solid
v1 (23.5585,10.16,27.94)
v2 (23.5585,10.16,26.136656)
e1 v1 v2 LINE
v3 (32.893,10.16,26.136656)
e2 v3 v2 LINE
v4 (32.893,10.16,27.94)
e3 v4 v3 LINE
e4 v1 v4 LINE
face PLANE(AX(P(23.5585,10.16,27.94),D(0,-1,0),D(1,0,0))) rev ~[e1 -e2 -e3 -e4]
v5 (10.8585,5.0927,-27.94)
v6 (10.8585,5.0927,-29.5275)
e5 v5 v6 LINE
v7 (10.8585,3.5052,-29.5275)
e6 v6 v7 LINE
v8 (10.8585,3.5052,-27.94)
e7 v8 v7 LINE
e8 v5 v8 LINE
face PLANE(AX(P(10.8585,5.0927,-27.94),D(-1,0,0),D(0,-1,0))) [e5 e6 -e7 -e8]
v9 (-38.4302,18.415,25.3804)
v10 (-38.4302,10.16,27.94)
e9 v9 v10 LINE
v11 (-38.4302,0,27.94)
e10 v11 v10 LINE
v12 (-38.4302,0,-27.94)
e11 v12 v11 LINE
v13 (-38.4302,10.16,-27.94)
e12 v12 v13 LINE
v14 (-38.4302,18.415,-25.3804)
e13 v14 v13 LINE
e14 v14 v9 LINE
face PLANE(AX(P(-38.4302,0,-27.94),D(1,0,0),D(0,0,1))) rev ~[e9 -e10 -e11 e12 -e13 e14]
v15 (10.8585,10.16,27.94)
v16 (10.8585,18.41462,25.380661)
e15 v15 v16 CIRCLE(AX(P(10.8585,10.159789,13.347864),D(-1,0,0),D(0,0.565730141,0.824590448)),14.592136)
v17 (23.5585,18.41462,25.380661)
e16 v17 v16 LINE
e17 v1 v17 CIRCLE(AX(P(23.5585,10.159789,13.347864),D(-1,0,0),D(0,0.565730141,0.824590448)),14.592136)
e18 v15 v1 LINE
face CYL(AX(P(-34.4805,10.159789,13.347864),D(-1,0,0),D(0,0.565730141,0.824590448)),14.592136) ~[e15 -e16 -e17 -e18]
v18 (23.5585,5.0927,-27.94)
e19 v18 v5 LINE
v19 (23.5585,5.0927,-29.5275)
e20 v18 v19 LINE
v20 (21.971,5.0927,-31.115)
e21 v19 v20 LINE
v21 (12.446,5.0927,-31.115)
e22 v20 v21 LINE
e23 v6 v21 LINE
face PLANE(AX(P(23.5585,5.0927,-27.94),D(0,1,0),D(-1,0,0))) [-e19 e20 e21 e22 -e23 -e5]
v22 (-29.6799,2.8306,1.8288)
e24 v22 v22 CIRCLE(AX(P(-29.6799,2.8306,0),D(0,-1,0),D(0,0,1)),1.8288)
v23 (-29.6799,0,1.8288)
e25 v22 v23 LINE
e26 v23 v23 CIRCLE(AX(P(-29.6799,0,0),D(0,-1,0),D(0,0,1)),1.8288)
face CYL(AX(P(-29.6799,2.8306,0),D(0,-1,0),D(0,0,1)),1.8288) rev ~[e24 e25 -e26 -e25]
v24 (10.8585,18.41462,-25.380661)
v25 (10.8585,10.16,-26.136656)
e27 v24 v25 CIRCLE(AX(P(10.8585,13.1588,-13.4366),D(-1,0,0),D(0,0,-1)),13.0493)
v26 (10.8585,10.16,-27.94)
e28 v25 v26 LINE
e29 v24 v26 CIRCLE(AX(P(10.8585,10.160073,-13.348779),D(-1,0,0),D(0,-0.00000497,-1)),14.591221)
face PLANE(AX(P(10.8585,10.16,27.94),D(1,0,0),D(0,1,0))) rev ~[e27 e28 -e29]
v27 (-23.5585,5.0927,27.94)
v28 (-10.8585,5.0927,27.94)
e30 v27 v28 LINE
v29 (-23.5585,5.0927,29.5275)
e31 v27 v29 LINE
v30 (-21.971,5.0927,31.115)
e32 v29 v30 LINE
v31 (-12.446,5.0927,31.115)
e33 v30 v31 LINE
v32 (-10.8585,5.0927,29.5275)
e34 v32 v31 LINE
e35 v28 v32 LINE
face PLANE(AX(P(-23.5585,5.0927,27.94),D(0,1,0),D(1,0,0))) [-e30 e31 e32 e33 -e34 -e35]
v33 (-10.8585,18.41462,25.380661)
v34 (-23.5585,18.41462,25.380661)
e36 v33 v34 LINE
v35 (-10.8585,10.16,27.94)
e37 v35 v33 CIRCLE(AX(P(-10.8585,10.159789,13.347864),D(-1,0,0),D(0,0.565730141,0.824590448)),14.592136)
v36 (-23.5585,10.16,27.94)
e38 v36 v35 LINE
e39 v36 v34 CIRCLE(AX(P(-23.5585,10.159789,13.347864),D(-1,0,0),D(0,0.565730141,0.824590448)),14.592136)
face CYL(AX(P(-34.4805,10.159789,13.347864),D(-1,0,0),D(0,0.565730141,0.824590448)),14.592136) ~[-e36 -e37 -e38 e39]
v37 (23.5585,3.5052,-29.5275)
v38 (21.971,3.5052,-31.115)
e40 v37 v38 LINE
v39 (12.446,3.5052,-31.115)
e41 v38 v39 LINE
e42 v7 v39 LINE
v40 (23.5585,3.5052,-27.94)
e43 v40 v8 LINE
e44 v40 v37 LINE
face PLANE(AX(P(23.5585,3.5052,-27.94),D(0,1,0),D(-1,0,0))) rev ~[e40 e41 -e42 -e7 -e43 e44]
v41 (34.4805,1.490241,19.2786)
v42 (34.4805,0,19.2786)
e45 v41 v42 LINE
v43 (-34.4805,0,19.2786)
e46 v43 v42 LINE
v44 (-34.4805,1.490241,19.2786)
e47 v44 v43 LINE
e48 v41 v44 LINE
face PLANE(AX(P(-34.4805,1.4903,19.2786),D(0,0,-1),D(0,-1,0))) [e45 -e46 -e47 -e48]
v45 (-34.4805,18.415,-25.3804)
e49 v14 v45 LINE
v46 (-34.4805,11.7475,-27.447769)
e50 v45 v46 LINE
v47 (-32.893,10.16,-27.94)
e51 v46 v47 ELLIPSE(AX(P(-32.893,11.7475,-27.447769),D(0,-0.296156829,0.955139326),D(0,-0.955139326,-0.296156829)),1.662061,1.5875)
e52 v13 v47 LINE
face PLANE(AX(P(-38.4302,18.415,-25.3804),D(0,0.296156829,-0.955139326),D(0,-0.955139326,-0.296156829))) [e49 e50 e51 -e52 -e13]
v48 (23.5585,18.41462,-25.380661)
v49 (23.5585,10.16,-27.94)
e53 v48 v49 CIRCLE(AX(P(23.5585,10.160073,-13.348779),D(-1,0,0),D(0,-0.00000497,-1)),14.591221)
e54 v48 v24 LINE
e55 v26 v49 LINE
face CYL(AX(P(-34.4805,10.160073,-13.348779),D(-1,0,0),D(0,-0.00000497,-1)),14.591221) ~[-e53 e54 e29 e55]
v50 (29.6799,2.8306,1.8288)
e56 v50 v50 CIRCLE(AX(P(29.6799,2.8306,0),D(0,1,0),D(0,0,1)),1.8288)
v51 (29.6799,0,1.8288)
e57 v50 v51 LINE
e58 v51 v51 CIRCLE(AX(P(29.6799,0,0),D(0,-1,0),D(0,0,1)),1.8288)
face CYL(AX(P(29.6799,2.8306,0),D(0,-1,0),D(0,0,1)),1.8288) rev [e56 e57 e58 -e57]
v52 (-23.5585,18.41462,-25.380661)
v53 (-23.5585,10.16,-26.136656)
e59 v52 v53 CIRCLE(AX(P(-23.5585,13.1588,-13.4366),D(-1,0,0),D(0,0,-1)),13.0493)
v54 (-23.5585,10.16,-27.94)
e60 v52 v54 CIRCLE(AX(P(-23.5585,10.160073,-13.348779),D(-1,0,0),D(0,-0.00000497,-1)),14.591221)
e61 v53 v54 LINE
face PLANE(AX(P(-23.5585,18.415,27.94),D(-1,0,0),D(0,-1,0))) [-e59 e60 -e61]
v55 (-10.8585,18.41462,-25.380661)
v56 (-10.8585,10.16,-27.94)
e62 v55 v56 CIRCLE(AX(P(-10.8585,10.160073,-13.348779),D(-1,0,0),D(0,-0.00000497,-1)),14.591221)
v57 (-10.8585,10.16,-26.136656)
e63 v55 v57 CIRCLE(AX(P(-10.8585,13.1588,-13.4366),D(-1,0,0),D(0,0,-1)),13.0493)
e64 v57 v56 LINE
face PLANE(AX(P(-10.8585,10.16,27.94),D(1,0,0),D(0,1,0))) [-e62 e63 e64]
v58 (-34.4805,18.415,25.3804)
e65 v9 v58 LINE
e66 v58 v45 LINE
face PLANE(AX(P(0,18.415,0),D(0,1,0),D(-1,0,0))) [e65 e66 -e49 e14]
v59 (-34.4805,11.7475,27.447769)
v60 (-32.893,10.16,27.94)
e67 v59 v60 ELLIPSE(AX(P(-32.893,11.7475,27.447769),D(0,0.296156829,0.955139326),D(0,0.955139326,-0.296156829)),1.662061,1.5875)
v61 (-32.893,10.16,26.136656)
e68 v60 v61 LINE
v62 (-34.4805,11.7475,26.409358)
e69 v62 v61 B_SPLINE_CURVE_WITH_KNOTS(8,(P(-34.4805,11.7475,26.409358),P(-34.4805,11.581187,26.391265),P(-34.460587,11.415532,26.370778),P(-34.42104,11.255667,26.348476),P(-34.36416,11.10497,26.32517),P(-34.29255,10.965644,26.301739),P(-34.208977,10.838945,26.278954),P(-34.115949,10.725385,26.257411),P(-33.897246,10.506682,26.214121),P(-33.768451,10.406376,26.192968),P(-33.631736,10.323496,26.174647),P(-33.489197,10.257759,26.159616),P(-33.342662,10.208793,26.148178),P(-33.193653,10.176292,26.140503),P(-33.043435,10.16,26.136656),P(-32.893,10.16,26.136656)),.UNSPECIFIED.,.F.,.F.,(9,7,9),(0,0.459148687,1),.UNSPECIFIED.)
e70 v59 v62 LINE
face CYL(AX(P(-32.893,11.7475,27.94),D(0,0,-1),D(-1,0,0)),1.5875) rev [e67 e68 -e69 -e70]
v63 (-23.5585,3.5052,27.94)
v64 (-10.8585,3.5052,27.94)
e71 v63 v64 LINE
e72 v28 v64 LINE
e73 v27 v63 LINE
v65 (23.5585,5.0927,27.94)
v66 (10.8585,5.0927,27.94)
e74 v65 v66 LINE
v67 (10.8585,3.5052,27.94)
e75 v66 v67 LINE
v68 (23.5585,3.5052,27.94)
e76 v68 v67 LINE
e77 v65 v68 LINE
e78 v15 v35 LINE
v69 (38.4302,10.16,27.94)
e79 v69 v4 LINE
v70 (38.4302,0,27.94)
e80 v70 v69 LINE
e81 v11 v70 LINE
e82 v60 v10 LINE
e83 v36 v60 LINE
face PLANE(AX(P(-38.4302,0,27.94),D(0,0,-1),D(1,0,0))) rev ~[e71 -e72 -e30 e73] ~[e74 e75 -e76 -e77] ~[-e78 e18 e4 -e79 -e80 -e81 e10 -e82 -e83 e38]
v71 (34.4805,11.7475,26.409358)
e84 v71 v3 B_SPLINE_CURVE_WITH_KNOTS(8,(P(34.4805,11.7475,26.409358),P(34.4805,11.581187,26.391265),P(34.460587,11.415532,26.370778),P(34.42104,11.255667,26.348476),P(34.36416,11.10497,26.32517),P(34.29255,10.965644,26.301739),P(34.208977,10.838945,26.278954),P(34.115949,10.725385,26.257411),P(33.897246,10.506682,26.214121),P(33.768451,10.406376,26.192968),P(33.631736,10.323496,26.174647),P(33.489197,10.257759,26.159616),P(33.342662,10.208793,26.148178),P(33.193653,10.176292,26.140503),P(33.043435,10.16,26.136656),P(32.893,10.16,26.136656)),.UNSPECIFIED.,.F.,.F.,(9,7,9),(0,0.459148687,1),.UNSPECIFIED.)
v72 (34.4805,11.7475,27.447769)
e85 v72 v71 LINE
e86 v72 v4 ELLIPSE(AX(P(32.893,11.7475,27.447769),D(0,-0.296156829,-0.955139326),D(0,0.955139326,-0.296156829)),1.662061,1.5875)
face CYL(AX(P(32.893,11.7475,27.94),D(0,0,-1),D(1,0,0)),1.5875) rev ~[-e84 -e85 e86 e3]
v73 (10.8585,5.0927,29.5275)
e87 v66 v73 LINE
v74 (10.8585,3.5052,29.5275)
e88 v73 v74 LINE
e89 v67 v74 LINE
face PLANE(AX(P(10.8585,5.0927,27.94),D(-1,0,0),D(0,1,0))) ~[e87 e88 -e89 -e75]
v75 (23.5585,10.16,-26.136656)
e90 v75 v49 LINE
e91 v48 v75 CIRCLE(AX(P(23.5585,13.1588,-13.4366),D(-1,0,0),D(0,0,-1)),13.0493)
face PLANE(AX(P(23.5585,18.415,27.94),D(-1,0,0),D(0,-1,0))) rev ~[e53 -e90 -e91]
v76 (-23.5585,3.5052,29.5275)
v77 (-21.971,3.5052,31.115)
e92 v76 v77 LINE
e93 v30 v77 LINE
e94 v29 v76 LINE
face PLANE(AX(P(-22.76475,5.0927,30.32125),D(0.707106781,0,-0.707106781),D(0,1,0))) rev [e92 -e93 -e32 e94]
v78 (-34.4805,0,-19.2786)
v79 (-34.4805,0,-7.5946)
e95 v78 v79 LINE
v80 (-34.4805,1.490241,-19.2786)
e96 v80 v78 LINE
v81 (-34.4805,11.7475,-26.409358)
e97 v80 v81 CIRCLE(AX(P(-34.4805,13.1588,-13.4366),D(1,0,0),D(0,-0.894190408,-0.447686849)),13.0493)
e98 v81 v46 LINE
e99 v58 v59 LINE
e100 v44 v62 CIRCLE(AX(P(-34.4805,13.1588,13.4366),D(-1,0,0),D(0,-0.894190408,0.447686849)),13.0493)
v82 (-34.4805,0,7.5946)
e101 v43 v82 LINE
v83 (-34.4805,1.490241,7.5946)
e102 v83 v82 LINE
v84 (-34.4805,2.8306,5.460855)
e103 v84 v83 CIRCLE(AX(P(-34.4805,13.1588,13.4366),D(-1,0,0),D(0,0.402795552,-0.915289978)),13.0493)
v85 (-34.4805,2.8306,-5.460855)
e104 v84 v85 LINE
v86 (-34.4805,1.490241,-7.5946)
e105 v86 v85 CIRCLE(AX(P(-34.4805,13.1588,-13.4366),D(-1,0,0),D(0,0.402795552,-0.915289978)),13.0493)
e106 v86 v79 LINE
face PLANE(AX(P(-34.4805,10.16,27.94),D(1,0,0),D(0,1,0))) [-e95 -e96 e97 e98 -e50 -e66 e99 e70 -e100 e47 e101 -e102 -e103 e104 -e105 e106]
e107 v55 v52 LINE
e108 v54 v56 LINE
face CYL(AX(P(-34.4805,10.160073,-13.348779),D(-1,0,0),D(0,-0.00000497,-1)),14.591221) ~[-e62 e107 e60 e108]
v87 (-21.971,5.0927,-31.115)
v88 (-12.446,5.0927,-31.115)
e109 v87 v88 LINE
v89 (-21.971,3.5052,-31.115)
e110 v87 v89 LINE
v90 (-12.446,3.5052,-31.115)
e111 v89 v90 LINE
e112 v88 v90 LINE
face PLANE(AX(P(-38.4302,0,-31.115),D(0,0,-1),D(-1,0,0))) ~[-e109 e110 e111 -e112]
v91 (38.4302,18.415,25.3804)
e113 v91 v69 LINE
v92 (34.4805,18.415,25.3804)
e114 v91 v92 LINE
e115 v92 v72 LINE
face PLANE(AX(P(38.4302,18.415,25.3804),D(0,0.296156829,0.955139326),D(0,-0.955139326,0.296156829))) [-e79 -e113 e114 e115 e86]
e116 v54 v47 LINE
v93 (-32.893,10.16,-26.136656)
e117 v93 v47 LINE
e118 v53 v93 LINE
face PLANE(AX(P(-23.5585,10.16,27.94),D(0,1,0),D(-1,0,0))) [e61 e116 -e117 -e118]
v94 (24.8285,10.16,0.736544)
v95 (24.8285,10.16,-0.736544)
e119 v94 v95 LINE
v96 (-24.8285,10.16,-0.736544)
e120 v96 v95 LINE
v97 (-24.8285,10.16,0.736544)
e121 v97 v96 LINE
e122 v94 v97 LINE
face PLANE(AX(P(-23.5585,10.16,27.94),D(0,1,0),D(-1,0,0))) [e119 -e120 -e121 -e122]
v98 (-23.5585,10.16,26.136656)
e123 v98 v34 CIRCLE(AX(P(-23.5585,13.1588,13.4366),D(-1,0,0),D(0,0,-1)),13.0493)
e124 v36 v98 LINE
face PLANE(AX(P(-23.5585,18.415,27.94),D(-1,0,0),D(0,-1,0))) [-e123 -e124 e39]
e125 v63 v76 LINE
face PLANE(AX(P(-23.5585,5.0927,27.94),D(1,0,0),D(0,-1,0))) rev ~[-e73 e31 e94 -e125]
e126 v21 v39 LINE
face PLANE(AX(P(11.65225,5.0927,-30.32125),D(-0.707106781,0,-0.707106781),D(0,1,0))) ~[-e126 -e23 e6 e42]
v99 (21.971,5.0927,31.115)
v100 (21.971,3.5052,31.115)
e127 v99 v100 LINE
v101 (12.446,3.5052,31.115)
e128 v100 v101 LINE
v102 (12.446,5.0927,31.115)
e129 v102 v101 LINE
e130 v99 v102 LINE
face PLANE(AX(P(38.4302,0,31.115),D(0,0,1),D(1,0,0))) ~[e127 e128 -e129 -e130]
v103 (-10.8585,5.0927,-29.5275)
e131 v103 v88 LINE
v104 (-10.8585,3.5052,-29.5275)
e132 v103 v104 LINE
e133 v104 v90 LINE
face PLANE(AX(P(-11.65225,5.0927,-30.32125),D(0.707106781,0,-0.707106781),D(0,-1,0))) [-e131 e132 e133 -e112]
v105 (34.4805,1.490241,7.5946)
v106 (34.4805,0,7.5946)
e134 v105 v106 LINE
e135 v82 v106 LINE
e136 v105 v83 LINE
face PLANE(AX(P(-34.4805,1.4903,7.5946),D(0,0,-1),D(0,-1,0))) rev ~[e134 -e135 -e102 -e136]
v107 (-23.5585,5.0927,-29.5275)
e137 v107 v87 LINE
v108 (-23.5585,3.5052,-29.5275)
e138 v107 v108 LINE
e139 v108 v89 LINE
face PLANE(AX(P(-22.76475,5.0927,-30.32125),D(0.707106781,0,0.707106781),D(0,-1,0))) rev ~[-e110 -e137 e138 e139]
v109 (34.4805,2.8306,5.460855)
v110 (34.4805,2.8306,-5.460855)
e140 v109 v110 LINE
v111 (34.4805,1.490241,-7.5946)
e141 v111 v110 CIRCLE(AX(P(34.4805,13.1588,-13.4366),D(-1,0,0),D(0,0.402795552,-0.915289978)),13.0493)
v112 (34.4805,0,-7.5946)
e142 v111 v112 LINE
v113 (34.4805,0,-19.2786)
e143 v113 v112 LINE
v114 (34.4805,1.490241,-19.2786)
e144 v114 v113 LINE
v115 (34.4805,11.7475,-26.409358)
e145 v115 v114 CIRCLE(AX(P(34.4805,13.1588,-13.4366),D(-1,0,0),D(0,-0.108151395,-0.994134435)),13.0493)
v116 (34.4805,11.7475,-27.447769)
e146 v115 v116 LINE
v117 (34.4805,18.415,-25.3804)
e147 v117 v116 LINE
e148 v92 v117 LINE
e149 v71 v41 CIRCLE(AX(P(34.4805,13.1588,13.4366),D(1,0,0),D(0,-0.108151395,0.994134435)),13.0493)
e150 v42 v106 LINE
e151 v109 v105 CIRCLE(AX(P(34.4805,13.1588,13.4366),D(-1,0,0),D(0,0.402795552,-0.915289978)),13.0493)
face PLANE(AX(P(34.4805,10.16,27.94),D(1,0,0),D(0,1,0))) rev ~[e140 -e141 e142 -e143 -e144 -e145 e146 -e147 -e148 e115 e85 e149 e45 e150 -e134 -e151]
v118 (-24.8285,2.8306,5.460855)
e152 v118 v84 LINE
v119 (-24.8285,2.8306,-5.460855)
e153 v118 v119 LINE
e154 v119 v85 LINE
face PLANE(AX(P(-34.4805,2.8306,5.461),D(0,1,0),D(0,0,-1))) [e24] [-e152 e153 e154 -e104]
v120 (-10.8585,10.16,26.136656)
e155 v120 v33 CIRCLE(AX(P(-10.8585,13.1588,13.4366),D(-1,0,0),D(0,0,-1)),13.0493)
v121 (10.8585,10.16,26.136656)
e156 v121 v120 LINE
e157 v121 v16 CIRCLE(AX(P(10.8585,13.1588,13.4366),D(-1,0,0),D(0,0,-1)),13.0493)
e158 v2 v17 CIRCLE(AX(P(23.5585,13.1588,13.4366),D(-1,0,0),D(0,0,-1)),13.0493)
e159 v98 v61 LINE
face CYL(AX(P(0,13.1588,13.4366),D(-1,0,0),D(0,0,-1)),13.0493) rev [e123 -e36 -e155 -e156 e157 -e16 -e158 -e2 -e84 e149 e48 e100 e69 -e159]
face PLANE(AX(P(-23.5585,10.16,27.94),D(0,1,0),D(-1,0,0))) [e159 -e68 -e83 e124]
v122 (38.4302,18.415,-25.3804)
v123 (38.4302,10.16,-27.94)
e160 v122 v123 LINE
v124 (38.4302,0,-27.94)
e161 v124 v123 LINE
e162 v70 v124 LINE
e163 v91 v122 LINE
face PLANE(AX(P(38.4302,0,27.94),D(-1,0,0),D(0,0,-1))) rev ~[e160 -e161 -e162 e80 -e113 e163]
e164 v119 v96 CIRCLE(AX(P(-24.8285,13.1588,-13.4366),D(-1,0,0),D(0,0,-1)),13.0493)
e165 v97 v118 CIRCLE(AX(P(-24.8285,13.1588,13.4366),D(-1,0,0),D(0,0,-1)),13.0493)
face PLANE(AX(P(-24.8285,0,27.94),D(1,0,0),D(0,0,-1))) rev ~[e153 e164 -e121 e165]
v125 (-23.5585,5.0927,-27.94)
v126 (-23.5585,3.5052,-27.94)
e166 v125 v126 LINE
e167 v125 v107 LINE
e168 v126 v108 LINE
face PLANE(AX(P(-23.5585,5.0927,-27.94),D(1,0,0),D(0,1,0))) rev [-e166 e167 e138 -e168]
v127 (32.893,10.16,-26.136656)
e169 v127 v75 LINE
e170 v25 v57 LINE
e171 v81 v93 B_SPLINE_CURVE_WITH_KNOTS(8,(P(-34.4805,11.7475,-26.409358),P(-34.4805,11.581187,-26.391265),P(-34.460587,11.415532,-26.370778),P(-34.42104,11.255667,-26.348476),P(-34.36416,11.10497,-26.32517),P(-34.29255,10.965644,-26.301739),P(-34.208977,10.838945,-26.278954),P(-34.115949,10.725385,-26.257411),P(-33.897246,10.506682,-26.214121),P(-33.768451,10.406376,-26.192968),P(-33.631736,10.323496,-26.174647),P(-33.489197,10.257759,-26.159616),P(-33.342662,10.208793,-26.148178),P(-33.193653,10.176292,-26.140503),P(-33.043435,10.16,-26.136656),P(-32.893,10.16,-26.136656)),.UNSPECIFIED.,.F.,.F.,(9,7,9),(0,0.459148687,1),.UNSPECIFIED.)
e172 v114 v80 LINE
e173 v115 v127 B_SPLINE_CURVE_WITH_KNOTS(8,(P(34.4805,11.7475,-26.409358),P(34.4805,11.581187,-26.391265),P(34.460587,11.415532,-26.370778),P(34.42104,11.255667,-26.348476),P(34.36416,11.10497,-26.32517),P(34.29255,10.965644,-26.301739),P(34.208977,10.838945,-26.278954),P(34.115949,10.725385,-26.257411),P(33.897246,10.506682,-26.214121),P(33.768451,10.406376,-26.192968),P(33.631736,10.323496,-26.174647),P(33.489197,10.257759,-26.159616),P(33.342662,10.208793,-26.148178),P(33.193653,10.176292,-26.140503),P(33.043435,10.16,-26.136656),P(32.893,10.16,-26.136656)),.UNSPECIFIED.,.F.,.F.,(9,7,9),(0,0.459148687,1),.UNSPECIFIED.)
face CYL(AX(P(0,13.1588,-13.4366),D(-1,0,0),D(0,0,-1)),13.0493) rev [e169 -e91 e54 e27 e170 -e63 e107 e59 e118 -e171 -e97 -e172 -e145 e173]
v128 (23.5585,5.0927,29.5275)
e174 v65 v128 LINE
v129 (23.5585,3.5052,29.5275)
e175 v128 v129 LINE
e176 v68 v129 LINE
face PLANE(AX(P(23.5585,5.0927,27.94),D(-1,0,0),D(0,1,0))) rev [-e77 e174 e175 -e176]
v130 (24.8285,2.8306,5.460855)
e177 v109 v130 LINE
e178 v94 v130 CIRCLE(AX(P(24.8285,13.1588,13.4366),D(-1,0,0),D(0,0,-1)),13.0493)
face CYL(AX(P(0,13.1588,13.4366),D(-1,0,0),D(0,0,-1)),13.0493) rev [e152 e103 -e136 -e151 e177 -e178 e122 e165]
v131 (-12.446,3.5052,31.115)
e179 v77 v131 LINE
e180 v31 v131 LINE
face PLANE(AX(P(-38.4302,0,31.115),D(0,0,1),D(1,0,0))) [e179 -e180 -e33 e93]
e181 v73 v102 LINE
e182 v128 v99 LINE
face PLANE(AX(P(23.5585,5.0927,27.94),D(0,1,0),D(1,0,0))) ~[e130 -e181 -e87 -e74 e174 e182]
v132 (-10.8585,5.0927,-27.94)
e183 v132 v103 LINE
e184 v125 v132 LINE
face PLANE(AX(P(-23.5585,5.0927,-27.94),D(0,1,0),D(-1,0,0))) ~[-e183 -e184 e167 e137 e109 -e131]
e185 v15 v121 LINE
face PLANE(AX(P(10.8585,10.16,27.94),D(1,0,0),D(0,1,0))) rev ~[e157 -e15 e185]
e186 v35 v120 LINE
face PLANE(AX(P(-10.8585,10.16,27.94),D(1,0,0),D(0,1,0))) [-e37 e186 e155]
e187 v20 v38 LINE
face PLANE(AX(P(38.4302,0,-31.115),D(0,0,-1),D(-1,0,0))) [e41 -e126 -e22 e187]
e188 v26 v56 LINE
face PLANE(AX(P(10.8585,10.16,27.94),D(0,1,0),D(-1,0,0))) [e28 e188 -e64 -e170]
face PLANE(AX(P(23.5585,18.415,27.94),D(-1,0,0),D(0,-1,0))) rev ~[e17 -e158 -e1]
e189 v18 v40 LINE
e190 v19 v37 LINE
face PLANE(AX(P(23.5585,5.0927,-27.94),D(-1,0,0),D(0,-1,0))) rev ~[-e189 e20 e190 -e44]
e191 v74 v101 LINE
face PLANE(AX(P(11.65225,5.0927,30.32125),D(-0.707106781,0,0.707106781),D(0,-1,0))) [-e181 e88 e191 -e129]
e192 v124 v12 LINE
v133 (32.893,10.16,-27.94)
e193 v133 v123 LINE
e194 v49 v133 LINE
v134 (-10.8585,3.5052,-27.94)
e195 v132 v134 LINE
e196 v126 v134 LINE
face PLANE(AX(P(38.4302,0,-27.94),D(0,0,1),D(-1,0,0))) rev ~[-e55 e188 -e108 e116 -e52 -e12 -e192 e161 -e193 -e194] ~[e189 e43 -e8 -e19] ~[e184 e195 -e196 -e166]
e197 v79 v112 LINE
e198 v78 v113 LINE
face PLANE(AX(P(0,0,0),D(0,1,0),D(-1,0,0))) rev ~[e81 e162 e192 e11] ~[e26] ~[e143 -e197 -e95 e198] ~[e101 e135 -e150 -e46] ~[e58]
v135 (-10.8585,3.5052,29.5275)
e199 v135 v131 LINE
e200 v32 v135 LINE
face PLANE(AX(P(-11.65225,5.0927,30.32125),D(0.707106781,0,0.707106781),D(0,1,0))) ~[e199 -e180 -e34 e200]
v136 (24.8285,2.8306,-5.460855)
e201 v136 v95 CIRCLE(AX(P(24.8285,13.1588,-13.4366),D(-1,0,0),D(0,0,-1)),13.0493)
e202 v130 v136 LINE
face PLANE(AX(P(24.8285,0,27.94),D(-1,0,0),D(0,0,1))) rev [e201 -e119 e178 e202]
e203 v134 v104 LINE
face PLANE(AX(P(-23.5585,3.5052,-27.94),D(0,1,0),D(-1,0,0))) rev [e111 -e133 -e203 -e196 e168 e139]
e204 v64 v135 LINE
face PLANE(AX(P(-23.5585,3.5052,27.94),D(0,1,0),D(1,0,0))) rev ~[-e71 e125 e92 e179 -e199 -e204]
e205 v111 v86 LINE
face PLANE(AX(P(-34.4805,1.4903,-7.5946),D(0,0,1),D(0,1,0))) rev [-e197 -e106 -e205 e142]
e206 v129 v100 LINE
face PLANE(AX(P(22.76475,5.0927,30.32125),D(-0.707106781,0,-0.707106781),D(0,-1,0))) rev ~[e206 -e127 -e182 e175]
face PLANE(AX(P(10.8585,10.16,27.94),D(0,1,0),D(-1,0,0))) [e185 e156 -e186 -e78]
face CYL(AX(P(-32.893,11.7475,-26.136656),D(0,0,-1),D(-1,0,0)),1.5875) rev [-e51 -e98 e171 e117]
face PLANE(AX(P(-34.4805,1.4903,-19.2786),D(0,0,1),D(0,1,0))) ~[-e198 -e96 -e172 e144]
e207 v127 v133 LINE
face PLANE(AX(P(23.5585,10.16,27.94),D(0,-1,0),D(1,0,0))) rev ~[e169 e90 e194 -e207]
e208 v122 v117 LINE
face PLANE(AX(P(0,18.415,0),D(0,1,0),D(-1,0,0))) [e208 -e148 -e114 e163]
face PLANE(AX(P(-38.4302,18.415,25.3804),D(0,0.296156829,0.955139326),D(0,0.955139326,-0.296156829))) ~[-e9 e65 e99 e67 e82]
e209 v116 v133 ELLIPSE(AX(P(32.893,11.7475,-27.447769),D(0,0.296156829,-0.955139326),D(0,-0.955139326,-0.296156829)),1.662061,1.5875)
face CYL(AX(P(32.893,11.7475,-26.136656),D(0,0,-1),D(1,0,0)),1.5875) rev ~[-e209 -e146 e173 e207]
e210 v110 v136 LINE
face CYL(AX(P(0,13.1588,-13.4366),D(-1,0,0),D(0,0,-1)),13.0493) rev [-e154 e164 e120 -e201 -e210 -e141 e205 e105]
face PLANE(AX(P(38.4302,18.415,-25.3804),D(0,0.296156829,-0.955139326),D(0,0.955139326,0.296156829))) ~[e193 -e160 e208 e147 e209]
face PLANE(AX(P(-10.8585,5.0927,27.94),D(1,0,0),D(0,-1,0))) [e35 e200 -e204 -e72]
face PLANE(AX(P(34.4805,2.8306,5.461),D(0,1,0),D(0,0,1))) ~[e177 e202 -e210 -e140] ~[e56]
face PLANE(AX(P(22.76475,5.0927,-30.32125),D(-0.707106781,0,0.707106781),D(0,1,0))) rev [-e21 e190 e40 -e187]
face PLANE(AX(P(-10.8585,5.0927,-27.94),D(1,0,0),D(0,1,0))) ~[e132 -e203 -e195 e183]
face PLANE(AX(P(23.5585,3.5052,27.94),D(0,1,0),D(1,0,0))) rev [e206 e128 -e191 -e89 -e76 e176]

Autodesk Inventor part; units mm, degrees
ref_plane "YZ Plane" through (0, 0, 0) normal (1, 0, 0) x (0, 1, 0)
sketch "Sketch1" plane through (0, 0, 0) normal (0, 1, 0) x (-1, 0, 0)
  line L0 (38.4302, 27.94) -> (-38.4302, 27.94)
  line L1 (-38.4302, 27.94) -> (-38.4302, -27.94)
  line L2 (-38.4302, -27.94) -> (38.4302, -27.94)
  line L3 (38.4302, -27.94) -> (38.4302, 27.94)
  line L4 (53.8023, 0) -> (-53.8023, 0) construction
  line L5 (0, -39.116) -> (0, 39.116) construction
  point P0 (0, 0)
  point P1 (0, 27.94)
  point P2 (38.4302, 0)
  dimension "d0" = 76.8604
  dimension "d1" = 55.88
extrude "Extrusion1" add sketch "Sketch1" along normal blind 18.415
ref_plane "Work Plane1" through (0, 0, 27.94) normal (1, 0, 0) x (0, 0, -1)
sketch "Sketch2" plane through (0, 0, 27.94) normal (1, 0, 0) x (0, 0, -1)
  line L0 (27.94, -6.8898) -> (27.94, 29.6482) construction
  line L1 (67.056, 0) -> (-11.176, 0) construction
  circle A0 centre (14.5034, 13.1588) radius 13.0493
  circle A1 centre (41.3766, 13.1588) radius 13.0493
  line L2 (1.8034, 10.16) -> (27.2034, 10.16) construction
  point P0 (27.94, 0)
  dimension "d4" = 13.4366
  dimension "d6" = 26.0985
  dimension "d11" = 25.4
  dimension "d12" = 10.16
extrude "Extrusion2" cut sketch "Sketch2" along normal mid plane 68.961
sketch "Sketch3" plane through (-38.4302, 0, 27.94) normal (0, 0, 1) x (1, 0, 0)
  line L0 (0, 18.415) -> (76.8604, 18.415) construction
  line L1 (3.9497, 18.415) -> (3.9497, 0.1096) construction
  line L2 (3.9497, 18.415) -> (14.8717, 18.415)
  line L3 (14.8717, 18.415) -> (14.8717, 10.16)
  line L4 (14.8717, 10.16) -> (3.9497, 10.16)
  line L5 (3.9497, 10.16) -> (3.9497, 18.415)
  line L6 (27.5717, 18.415) -> (38.4302, 18.415)
  line L7 (27.5717, 10.16) -> (27.5717, 18.415)
  line L8 (-15.3721, 0) -> (92.2325, 0) construction
  line L9 (27.5717, 10.16) -> (38.4302, 10.16)
  line L10 (38.4302, -3.683) -> (38.4302, 22.098) construction
  line L11 (72.9107, 18.415) -> (61.9887, 18.415)
  line L12 (61.9887, 18.415) -> (61.9887, 10.16)
  line L13 (61.9887, 10.16) -> (72.9107, 10.16)
  line L14 (72.9107, 10.16) -> (72.9107, 18.415)
  line L15 (49.2887, 18.415) -> (38.4302, 18.415)
  line L16 (49.2887, 10.16) -> (49.2887, 18.415)
  line L17 (49.2887, 10.16) -> (38.4302, 10.16)
  point P0 (38.4302, 0)
  dimension "d13" = 10.922
  dimension "d16" = 10.16
  dimension "d17" = 12.7
extrude "Extrusion3" cut sketch "Sketch3" against normal through all
sketch "Sketch4" plane through (-34.4805, 0, 27.94) normal (1, 0, 0) x (0, 0, -1)
  line L0 (27.2034, 10.16) -> (28.6766, 10.16) projected
  arc A0 (27.2034, 10.16) -> (26.4472, 18.415) centre (14.5034, 13.1588) ccw projected
  arc A1 (29.4328, 18.415) -> (28.6766, 10.16) centre (41.3766, 13.1588) ccw projected
  line L1 (29.4328, 18.415) -> (26.4472, 18.415) projected
  line L2 (0, 18.415) -> (2.5596, 18.415) projected
  arc A2 (2.5596, 18.415) -> (0, 10.16) centre (14.5917, 10.16) ccw
  line L3 (0, 18.415) -> (55.88, 18.415) construction
  line L4 (0, 10.16) -> (0, 18.415)
  line L5 (0, 18.415) -> (2.5596, 18.415)
  line L6 (27.94, -3.7218) -> (27.94, 22.3306) construction
  line L7 (55.88, 18.415) -> (53.3204, 18.415)
  arc A3 (55.88, 10.16) -> (53.3204, 18.415) centre (41.2883, 10.16) ccw
  line L8 (55.88, 10.16) -> (55.88, 18.415)
  line L9 (55.88, 18.415) -> (53.3204, 18.415)
  point P0 (27.94, 0)
  point P1 (0, 0)
  dimension "d21" = 14.5917
extrude "Extrusion4" cut sketch "Sketch4" along normal up to surface (68.961 mm away)
sketch "Sketch5" plane through (-34.4805, 0, 27.94) normal (1, 0, 0) x (0, 0, -1)
  arc A0 (1.8034, 10.16) -> (27.2034, 10.16) centre (14.5034, 13.1588) ccw construction
  arc A1 (28.6766, 10.16) -> (54.0766, 10.16) centre (41.3766, 13.1588) ccw construction
  line L0 (27.2034, 10.16) -> (28.6766, 10.16) projected
  line L1 (22.479, 2.8306) -> (33.401, 2.8306)
  arc A2 (22.479, 2.8306) -> (27.2034, 10.16) centre (14.5034, 13.1588) ccw
  arc A3 (28.6766, 10.16) -> (33.401, 2.8306) centre (41.3766, 13.1588) ccw
  point P0 (27.94, 0)
  dimension "d24" = 10.922
extrude "Extrusion5" cut sketch "Sketch5" along normal blind 9.652
mirror "Mirror1" about plane through (0, 0, 27.94) normal (1, 0, 0) of "Extrusion5"
sketch "Sketch6" plane through (-34.4805, 0, 27.94) normal (1, 0, 0) x (0, 0, -1)
  arc A0 (1.8034, 10.16) -> (22.479, 2.8306) centre (14.5034, 13.1588) ccw construction
  line L0 (55.88, 0) -> (0, 0) construction
  line L1 (8.6614, 1.4903) -> (8.6614, 0)
  line L2 (14.5034, 13.1588) -> (14.5034, 0) construction
  line L3 (20.3454, 1.4903) -> (20.3454, 0)
  arc A1 (8.6614, 1.4903) -> (20.3454, 1.4903) centre (14.5034, 13.1588) ccw
  line L4 (8.6614, 0) -> (20.3454, 0)
  point P0 (27.94, 0)
  dimension "d27" = 5.842
extrude "Extrusion6" cut sketch "Sketch6" along normal up to surface (68.961 mm away)
ref_plane "Work Plane2" through (-38.4302, 0, 0) normal (0, 0, 1) x (1, 0, 0)
mirror "Mirror2" about plane through (-38.4302, 0, 0) normal (0, 0, 1) of "Extrusion6"
sketch "Sketch7" plane through (38.4302, 0, 27.94) normal (1, 0, 0) x (0, 0, -1)
  line L0 (0, 0) -> (0, 18.415) construction
  line L1 (0, 18.415) -> (55.88, 18.415) construction
  arc A0 (2.5596, 18.415) -> (0, 10.16) centre (14.5917, 10.16) ccw construction
  line L2 (2.5596, 18.415) -> (0, 10.16)
  line L3 (2.5596, 18.415) -> (0, 18.415)
  line L4 (0, 10.16) -> (0, 18.415)
  point P0 (27.94, 0)
extrude "Extrusion7" cut sketch "Sketch7" against normal up to surface (3.9497 mm away)
mirror "Mirror3" about plane through (-38.4302, 0, 0) normal (0, 0, 1) of "Extrusion7"
mirror "Mirror4" about plane through (0, 0, 27.94) normal (1, 0, 0) of "Extrusion7", "Mirror3"
fillet "Fillet1" radius 1.5875 4 edges at (-34.4805, 10.16, -27.0383) (-34.4805, 10.16, 27.0383) (34.4805, 10.16, -27.0383) (34.4805, 10.16, 27.0383)
sketch "Sketch9" plane through (-38.4302, 0, 27.94) normal (0, 0, 1) x (1, 0, 0)
  line L0 (27.5717, 10.16) -> (27.5717, 18.415) construction
  line L1 (14.8717, 18.415) -> (14.8717, 10.16) construction
  line L2 (0, 0) -> (76.8604, 0) construction
  line L3 (14.8717, 5.0927) -> (14.8717, 3.5052)
  line L4 (27.5717, 5.0927) -> (27.5717, 3.5052)
  line L5 (14.8717, 5.0927) -> (27.5717, 5.0927)
  line L6 (14.8717, 3.5052) -> (27.5717, 3.5052)
  point P0 (38.4302, 0)
  dimension "d33" = 3.5052
  dimension "d34" = 1.5875
  dimension "d36" = 12.7
  dimension "d37" = 12.7
extrude "Extrusion8" add sketch "Sketch9" along normal blind 3.175
mirror "Mirror5" about plane through (0, 0, 27.94) normal (1, 0, 0) of "Extrusion8"
mirror "Mirror6" about plane through (-38.4302, 0, 0) normal (0, 0, 1) of "Extrusion8", "Mirror5"
chamfer "Chamfer1" distance 1.5875 angle 45 8 edges at (-10.8585, 4.299, 31.115) (23.5585, 4.2989, 31.115) (10.8585, 4.299, 31.115) (-23.5585, 4.2989, 31.115) (-10.8585, 4.299, -31.115) (-23.5585, 4.2989, -31.115) (23.5585, 4.2989, -31.115) (10.8585, 4.299, -31.115)
sketch "Sketch10" plane through (-34.4805, 2.8306, 5.461) normal (0, 1, 0) x (1, 0, 0)
  line L0 (-19.3218, 5.461) -> (88.2828, 5.461) construction
  line L1 (34.4805, 49.022) -> (34.4805, -38.1) construction
  point P0 (34.4805, 5.461)
  point P1 (4.8006, 5.461)
  dimension "d43" = 29.6799
hole "Hole1" at (-29.6799, 2.8306, 0) direction (0, -1, 0) diameter 3.6576 end through all
mirror "Mirror7" about plane through (0, 0, 27.94) normal (1, 0, 0) of "Hole1"
properties part number "Keystone-26650-Dual-Battery-Holder[DWG-1109]" material "Thermoplastic Resin"
